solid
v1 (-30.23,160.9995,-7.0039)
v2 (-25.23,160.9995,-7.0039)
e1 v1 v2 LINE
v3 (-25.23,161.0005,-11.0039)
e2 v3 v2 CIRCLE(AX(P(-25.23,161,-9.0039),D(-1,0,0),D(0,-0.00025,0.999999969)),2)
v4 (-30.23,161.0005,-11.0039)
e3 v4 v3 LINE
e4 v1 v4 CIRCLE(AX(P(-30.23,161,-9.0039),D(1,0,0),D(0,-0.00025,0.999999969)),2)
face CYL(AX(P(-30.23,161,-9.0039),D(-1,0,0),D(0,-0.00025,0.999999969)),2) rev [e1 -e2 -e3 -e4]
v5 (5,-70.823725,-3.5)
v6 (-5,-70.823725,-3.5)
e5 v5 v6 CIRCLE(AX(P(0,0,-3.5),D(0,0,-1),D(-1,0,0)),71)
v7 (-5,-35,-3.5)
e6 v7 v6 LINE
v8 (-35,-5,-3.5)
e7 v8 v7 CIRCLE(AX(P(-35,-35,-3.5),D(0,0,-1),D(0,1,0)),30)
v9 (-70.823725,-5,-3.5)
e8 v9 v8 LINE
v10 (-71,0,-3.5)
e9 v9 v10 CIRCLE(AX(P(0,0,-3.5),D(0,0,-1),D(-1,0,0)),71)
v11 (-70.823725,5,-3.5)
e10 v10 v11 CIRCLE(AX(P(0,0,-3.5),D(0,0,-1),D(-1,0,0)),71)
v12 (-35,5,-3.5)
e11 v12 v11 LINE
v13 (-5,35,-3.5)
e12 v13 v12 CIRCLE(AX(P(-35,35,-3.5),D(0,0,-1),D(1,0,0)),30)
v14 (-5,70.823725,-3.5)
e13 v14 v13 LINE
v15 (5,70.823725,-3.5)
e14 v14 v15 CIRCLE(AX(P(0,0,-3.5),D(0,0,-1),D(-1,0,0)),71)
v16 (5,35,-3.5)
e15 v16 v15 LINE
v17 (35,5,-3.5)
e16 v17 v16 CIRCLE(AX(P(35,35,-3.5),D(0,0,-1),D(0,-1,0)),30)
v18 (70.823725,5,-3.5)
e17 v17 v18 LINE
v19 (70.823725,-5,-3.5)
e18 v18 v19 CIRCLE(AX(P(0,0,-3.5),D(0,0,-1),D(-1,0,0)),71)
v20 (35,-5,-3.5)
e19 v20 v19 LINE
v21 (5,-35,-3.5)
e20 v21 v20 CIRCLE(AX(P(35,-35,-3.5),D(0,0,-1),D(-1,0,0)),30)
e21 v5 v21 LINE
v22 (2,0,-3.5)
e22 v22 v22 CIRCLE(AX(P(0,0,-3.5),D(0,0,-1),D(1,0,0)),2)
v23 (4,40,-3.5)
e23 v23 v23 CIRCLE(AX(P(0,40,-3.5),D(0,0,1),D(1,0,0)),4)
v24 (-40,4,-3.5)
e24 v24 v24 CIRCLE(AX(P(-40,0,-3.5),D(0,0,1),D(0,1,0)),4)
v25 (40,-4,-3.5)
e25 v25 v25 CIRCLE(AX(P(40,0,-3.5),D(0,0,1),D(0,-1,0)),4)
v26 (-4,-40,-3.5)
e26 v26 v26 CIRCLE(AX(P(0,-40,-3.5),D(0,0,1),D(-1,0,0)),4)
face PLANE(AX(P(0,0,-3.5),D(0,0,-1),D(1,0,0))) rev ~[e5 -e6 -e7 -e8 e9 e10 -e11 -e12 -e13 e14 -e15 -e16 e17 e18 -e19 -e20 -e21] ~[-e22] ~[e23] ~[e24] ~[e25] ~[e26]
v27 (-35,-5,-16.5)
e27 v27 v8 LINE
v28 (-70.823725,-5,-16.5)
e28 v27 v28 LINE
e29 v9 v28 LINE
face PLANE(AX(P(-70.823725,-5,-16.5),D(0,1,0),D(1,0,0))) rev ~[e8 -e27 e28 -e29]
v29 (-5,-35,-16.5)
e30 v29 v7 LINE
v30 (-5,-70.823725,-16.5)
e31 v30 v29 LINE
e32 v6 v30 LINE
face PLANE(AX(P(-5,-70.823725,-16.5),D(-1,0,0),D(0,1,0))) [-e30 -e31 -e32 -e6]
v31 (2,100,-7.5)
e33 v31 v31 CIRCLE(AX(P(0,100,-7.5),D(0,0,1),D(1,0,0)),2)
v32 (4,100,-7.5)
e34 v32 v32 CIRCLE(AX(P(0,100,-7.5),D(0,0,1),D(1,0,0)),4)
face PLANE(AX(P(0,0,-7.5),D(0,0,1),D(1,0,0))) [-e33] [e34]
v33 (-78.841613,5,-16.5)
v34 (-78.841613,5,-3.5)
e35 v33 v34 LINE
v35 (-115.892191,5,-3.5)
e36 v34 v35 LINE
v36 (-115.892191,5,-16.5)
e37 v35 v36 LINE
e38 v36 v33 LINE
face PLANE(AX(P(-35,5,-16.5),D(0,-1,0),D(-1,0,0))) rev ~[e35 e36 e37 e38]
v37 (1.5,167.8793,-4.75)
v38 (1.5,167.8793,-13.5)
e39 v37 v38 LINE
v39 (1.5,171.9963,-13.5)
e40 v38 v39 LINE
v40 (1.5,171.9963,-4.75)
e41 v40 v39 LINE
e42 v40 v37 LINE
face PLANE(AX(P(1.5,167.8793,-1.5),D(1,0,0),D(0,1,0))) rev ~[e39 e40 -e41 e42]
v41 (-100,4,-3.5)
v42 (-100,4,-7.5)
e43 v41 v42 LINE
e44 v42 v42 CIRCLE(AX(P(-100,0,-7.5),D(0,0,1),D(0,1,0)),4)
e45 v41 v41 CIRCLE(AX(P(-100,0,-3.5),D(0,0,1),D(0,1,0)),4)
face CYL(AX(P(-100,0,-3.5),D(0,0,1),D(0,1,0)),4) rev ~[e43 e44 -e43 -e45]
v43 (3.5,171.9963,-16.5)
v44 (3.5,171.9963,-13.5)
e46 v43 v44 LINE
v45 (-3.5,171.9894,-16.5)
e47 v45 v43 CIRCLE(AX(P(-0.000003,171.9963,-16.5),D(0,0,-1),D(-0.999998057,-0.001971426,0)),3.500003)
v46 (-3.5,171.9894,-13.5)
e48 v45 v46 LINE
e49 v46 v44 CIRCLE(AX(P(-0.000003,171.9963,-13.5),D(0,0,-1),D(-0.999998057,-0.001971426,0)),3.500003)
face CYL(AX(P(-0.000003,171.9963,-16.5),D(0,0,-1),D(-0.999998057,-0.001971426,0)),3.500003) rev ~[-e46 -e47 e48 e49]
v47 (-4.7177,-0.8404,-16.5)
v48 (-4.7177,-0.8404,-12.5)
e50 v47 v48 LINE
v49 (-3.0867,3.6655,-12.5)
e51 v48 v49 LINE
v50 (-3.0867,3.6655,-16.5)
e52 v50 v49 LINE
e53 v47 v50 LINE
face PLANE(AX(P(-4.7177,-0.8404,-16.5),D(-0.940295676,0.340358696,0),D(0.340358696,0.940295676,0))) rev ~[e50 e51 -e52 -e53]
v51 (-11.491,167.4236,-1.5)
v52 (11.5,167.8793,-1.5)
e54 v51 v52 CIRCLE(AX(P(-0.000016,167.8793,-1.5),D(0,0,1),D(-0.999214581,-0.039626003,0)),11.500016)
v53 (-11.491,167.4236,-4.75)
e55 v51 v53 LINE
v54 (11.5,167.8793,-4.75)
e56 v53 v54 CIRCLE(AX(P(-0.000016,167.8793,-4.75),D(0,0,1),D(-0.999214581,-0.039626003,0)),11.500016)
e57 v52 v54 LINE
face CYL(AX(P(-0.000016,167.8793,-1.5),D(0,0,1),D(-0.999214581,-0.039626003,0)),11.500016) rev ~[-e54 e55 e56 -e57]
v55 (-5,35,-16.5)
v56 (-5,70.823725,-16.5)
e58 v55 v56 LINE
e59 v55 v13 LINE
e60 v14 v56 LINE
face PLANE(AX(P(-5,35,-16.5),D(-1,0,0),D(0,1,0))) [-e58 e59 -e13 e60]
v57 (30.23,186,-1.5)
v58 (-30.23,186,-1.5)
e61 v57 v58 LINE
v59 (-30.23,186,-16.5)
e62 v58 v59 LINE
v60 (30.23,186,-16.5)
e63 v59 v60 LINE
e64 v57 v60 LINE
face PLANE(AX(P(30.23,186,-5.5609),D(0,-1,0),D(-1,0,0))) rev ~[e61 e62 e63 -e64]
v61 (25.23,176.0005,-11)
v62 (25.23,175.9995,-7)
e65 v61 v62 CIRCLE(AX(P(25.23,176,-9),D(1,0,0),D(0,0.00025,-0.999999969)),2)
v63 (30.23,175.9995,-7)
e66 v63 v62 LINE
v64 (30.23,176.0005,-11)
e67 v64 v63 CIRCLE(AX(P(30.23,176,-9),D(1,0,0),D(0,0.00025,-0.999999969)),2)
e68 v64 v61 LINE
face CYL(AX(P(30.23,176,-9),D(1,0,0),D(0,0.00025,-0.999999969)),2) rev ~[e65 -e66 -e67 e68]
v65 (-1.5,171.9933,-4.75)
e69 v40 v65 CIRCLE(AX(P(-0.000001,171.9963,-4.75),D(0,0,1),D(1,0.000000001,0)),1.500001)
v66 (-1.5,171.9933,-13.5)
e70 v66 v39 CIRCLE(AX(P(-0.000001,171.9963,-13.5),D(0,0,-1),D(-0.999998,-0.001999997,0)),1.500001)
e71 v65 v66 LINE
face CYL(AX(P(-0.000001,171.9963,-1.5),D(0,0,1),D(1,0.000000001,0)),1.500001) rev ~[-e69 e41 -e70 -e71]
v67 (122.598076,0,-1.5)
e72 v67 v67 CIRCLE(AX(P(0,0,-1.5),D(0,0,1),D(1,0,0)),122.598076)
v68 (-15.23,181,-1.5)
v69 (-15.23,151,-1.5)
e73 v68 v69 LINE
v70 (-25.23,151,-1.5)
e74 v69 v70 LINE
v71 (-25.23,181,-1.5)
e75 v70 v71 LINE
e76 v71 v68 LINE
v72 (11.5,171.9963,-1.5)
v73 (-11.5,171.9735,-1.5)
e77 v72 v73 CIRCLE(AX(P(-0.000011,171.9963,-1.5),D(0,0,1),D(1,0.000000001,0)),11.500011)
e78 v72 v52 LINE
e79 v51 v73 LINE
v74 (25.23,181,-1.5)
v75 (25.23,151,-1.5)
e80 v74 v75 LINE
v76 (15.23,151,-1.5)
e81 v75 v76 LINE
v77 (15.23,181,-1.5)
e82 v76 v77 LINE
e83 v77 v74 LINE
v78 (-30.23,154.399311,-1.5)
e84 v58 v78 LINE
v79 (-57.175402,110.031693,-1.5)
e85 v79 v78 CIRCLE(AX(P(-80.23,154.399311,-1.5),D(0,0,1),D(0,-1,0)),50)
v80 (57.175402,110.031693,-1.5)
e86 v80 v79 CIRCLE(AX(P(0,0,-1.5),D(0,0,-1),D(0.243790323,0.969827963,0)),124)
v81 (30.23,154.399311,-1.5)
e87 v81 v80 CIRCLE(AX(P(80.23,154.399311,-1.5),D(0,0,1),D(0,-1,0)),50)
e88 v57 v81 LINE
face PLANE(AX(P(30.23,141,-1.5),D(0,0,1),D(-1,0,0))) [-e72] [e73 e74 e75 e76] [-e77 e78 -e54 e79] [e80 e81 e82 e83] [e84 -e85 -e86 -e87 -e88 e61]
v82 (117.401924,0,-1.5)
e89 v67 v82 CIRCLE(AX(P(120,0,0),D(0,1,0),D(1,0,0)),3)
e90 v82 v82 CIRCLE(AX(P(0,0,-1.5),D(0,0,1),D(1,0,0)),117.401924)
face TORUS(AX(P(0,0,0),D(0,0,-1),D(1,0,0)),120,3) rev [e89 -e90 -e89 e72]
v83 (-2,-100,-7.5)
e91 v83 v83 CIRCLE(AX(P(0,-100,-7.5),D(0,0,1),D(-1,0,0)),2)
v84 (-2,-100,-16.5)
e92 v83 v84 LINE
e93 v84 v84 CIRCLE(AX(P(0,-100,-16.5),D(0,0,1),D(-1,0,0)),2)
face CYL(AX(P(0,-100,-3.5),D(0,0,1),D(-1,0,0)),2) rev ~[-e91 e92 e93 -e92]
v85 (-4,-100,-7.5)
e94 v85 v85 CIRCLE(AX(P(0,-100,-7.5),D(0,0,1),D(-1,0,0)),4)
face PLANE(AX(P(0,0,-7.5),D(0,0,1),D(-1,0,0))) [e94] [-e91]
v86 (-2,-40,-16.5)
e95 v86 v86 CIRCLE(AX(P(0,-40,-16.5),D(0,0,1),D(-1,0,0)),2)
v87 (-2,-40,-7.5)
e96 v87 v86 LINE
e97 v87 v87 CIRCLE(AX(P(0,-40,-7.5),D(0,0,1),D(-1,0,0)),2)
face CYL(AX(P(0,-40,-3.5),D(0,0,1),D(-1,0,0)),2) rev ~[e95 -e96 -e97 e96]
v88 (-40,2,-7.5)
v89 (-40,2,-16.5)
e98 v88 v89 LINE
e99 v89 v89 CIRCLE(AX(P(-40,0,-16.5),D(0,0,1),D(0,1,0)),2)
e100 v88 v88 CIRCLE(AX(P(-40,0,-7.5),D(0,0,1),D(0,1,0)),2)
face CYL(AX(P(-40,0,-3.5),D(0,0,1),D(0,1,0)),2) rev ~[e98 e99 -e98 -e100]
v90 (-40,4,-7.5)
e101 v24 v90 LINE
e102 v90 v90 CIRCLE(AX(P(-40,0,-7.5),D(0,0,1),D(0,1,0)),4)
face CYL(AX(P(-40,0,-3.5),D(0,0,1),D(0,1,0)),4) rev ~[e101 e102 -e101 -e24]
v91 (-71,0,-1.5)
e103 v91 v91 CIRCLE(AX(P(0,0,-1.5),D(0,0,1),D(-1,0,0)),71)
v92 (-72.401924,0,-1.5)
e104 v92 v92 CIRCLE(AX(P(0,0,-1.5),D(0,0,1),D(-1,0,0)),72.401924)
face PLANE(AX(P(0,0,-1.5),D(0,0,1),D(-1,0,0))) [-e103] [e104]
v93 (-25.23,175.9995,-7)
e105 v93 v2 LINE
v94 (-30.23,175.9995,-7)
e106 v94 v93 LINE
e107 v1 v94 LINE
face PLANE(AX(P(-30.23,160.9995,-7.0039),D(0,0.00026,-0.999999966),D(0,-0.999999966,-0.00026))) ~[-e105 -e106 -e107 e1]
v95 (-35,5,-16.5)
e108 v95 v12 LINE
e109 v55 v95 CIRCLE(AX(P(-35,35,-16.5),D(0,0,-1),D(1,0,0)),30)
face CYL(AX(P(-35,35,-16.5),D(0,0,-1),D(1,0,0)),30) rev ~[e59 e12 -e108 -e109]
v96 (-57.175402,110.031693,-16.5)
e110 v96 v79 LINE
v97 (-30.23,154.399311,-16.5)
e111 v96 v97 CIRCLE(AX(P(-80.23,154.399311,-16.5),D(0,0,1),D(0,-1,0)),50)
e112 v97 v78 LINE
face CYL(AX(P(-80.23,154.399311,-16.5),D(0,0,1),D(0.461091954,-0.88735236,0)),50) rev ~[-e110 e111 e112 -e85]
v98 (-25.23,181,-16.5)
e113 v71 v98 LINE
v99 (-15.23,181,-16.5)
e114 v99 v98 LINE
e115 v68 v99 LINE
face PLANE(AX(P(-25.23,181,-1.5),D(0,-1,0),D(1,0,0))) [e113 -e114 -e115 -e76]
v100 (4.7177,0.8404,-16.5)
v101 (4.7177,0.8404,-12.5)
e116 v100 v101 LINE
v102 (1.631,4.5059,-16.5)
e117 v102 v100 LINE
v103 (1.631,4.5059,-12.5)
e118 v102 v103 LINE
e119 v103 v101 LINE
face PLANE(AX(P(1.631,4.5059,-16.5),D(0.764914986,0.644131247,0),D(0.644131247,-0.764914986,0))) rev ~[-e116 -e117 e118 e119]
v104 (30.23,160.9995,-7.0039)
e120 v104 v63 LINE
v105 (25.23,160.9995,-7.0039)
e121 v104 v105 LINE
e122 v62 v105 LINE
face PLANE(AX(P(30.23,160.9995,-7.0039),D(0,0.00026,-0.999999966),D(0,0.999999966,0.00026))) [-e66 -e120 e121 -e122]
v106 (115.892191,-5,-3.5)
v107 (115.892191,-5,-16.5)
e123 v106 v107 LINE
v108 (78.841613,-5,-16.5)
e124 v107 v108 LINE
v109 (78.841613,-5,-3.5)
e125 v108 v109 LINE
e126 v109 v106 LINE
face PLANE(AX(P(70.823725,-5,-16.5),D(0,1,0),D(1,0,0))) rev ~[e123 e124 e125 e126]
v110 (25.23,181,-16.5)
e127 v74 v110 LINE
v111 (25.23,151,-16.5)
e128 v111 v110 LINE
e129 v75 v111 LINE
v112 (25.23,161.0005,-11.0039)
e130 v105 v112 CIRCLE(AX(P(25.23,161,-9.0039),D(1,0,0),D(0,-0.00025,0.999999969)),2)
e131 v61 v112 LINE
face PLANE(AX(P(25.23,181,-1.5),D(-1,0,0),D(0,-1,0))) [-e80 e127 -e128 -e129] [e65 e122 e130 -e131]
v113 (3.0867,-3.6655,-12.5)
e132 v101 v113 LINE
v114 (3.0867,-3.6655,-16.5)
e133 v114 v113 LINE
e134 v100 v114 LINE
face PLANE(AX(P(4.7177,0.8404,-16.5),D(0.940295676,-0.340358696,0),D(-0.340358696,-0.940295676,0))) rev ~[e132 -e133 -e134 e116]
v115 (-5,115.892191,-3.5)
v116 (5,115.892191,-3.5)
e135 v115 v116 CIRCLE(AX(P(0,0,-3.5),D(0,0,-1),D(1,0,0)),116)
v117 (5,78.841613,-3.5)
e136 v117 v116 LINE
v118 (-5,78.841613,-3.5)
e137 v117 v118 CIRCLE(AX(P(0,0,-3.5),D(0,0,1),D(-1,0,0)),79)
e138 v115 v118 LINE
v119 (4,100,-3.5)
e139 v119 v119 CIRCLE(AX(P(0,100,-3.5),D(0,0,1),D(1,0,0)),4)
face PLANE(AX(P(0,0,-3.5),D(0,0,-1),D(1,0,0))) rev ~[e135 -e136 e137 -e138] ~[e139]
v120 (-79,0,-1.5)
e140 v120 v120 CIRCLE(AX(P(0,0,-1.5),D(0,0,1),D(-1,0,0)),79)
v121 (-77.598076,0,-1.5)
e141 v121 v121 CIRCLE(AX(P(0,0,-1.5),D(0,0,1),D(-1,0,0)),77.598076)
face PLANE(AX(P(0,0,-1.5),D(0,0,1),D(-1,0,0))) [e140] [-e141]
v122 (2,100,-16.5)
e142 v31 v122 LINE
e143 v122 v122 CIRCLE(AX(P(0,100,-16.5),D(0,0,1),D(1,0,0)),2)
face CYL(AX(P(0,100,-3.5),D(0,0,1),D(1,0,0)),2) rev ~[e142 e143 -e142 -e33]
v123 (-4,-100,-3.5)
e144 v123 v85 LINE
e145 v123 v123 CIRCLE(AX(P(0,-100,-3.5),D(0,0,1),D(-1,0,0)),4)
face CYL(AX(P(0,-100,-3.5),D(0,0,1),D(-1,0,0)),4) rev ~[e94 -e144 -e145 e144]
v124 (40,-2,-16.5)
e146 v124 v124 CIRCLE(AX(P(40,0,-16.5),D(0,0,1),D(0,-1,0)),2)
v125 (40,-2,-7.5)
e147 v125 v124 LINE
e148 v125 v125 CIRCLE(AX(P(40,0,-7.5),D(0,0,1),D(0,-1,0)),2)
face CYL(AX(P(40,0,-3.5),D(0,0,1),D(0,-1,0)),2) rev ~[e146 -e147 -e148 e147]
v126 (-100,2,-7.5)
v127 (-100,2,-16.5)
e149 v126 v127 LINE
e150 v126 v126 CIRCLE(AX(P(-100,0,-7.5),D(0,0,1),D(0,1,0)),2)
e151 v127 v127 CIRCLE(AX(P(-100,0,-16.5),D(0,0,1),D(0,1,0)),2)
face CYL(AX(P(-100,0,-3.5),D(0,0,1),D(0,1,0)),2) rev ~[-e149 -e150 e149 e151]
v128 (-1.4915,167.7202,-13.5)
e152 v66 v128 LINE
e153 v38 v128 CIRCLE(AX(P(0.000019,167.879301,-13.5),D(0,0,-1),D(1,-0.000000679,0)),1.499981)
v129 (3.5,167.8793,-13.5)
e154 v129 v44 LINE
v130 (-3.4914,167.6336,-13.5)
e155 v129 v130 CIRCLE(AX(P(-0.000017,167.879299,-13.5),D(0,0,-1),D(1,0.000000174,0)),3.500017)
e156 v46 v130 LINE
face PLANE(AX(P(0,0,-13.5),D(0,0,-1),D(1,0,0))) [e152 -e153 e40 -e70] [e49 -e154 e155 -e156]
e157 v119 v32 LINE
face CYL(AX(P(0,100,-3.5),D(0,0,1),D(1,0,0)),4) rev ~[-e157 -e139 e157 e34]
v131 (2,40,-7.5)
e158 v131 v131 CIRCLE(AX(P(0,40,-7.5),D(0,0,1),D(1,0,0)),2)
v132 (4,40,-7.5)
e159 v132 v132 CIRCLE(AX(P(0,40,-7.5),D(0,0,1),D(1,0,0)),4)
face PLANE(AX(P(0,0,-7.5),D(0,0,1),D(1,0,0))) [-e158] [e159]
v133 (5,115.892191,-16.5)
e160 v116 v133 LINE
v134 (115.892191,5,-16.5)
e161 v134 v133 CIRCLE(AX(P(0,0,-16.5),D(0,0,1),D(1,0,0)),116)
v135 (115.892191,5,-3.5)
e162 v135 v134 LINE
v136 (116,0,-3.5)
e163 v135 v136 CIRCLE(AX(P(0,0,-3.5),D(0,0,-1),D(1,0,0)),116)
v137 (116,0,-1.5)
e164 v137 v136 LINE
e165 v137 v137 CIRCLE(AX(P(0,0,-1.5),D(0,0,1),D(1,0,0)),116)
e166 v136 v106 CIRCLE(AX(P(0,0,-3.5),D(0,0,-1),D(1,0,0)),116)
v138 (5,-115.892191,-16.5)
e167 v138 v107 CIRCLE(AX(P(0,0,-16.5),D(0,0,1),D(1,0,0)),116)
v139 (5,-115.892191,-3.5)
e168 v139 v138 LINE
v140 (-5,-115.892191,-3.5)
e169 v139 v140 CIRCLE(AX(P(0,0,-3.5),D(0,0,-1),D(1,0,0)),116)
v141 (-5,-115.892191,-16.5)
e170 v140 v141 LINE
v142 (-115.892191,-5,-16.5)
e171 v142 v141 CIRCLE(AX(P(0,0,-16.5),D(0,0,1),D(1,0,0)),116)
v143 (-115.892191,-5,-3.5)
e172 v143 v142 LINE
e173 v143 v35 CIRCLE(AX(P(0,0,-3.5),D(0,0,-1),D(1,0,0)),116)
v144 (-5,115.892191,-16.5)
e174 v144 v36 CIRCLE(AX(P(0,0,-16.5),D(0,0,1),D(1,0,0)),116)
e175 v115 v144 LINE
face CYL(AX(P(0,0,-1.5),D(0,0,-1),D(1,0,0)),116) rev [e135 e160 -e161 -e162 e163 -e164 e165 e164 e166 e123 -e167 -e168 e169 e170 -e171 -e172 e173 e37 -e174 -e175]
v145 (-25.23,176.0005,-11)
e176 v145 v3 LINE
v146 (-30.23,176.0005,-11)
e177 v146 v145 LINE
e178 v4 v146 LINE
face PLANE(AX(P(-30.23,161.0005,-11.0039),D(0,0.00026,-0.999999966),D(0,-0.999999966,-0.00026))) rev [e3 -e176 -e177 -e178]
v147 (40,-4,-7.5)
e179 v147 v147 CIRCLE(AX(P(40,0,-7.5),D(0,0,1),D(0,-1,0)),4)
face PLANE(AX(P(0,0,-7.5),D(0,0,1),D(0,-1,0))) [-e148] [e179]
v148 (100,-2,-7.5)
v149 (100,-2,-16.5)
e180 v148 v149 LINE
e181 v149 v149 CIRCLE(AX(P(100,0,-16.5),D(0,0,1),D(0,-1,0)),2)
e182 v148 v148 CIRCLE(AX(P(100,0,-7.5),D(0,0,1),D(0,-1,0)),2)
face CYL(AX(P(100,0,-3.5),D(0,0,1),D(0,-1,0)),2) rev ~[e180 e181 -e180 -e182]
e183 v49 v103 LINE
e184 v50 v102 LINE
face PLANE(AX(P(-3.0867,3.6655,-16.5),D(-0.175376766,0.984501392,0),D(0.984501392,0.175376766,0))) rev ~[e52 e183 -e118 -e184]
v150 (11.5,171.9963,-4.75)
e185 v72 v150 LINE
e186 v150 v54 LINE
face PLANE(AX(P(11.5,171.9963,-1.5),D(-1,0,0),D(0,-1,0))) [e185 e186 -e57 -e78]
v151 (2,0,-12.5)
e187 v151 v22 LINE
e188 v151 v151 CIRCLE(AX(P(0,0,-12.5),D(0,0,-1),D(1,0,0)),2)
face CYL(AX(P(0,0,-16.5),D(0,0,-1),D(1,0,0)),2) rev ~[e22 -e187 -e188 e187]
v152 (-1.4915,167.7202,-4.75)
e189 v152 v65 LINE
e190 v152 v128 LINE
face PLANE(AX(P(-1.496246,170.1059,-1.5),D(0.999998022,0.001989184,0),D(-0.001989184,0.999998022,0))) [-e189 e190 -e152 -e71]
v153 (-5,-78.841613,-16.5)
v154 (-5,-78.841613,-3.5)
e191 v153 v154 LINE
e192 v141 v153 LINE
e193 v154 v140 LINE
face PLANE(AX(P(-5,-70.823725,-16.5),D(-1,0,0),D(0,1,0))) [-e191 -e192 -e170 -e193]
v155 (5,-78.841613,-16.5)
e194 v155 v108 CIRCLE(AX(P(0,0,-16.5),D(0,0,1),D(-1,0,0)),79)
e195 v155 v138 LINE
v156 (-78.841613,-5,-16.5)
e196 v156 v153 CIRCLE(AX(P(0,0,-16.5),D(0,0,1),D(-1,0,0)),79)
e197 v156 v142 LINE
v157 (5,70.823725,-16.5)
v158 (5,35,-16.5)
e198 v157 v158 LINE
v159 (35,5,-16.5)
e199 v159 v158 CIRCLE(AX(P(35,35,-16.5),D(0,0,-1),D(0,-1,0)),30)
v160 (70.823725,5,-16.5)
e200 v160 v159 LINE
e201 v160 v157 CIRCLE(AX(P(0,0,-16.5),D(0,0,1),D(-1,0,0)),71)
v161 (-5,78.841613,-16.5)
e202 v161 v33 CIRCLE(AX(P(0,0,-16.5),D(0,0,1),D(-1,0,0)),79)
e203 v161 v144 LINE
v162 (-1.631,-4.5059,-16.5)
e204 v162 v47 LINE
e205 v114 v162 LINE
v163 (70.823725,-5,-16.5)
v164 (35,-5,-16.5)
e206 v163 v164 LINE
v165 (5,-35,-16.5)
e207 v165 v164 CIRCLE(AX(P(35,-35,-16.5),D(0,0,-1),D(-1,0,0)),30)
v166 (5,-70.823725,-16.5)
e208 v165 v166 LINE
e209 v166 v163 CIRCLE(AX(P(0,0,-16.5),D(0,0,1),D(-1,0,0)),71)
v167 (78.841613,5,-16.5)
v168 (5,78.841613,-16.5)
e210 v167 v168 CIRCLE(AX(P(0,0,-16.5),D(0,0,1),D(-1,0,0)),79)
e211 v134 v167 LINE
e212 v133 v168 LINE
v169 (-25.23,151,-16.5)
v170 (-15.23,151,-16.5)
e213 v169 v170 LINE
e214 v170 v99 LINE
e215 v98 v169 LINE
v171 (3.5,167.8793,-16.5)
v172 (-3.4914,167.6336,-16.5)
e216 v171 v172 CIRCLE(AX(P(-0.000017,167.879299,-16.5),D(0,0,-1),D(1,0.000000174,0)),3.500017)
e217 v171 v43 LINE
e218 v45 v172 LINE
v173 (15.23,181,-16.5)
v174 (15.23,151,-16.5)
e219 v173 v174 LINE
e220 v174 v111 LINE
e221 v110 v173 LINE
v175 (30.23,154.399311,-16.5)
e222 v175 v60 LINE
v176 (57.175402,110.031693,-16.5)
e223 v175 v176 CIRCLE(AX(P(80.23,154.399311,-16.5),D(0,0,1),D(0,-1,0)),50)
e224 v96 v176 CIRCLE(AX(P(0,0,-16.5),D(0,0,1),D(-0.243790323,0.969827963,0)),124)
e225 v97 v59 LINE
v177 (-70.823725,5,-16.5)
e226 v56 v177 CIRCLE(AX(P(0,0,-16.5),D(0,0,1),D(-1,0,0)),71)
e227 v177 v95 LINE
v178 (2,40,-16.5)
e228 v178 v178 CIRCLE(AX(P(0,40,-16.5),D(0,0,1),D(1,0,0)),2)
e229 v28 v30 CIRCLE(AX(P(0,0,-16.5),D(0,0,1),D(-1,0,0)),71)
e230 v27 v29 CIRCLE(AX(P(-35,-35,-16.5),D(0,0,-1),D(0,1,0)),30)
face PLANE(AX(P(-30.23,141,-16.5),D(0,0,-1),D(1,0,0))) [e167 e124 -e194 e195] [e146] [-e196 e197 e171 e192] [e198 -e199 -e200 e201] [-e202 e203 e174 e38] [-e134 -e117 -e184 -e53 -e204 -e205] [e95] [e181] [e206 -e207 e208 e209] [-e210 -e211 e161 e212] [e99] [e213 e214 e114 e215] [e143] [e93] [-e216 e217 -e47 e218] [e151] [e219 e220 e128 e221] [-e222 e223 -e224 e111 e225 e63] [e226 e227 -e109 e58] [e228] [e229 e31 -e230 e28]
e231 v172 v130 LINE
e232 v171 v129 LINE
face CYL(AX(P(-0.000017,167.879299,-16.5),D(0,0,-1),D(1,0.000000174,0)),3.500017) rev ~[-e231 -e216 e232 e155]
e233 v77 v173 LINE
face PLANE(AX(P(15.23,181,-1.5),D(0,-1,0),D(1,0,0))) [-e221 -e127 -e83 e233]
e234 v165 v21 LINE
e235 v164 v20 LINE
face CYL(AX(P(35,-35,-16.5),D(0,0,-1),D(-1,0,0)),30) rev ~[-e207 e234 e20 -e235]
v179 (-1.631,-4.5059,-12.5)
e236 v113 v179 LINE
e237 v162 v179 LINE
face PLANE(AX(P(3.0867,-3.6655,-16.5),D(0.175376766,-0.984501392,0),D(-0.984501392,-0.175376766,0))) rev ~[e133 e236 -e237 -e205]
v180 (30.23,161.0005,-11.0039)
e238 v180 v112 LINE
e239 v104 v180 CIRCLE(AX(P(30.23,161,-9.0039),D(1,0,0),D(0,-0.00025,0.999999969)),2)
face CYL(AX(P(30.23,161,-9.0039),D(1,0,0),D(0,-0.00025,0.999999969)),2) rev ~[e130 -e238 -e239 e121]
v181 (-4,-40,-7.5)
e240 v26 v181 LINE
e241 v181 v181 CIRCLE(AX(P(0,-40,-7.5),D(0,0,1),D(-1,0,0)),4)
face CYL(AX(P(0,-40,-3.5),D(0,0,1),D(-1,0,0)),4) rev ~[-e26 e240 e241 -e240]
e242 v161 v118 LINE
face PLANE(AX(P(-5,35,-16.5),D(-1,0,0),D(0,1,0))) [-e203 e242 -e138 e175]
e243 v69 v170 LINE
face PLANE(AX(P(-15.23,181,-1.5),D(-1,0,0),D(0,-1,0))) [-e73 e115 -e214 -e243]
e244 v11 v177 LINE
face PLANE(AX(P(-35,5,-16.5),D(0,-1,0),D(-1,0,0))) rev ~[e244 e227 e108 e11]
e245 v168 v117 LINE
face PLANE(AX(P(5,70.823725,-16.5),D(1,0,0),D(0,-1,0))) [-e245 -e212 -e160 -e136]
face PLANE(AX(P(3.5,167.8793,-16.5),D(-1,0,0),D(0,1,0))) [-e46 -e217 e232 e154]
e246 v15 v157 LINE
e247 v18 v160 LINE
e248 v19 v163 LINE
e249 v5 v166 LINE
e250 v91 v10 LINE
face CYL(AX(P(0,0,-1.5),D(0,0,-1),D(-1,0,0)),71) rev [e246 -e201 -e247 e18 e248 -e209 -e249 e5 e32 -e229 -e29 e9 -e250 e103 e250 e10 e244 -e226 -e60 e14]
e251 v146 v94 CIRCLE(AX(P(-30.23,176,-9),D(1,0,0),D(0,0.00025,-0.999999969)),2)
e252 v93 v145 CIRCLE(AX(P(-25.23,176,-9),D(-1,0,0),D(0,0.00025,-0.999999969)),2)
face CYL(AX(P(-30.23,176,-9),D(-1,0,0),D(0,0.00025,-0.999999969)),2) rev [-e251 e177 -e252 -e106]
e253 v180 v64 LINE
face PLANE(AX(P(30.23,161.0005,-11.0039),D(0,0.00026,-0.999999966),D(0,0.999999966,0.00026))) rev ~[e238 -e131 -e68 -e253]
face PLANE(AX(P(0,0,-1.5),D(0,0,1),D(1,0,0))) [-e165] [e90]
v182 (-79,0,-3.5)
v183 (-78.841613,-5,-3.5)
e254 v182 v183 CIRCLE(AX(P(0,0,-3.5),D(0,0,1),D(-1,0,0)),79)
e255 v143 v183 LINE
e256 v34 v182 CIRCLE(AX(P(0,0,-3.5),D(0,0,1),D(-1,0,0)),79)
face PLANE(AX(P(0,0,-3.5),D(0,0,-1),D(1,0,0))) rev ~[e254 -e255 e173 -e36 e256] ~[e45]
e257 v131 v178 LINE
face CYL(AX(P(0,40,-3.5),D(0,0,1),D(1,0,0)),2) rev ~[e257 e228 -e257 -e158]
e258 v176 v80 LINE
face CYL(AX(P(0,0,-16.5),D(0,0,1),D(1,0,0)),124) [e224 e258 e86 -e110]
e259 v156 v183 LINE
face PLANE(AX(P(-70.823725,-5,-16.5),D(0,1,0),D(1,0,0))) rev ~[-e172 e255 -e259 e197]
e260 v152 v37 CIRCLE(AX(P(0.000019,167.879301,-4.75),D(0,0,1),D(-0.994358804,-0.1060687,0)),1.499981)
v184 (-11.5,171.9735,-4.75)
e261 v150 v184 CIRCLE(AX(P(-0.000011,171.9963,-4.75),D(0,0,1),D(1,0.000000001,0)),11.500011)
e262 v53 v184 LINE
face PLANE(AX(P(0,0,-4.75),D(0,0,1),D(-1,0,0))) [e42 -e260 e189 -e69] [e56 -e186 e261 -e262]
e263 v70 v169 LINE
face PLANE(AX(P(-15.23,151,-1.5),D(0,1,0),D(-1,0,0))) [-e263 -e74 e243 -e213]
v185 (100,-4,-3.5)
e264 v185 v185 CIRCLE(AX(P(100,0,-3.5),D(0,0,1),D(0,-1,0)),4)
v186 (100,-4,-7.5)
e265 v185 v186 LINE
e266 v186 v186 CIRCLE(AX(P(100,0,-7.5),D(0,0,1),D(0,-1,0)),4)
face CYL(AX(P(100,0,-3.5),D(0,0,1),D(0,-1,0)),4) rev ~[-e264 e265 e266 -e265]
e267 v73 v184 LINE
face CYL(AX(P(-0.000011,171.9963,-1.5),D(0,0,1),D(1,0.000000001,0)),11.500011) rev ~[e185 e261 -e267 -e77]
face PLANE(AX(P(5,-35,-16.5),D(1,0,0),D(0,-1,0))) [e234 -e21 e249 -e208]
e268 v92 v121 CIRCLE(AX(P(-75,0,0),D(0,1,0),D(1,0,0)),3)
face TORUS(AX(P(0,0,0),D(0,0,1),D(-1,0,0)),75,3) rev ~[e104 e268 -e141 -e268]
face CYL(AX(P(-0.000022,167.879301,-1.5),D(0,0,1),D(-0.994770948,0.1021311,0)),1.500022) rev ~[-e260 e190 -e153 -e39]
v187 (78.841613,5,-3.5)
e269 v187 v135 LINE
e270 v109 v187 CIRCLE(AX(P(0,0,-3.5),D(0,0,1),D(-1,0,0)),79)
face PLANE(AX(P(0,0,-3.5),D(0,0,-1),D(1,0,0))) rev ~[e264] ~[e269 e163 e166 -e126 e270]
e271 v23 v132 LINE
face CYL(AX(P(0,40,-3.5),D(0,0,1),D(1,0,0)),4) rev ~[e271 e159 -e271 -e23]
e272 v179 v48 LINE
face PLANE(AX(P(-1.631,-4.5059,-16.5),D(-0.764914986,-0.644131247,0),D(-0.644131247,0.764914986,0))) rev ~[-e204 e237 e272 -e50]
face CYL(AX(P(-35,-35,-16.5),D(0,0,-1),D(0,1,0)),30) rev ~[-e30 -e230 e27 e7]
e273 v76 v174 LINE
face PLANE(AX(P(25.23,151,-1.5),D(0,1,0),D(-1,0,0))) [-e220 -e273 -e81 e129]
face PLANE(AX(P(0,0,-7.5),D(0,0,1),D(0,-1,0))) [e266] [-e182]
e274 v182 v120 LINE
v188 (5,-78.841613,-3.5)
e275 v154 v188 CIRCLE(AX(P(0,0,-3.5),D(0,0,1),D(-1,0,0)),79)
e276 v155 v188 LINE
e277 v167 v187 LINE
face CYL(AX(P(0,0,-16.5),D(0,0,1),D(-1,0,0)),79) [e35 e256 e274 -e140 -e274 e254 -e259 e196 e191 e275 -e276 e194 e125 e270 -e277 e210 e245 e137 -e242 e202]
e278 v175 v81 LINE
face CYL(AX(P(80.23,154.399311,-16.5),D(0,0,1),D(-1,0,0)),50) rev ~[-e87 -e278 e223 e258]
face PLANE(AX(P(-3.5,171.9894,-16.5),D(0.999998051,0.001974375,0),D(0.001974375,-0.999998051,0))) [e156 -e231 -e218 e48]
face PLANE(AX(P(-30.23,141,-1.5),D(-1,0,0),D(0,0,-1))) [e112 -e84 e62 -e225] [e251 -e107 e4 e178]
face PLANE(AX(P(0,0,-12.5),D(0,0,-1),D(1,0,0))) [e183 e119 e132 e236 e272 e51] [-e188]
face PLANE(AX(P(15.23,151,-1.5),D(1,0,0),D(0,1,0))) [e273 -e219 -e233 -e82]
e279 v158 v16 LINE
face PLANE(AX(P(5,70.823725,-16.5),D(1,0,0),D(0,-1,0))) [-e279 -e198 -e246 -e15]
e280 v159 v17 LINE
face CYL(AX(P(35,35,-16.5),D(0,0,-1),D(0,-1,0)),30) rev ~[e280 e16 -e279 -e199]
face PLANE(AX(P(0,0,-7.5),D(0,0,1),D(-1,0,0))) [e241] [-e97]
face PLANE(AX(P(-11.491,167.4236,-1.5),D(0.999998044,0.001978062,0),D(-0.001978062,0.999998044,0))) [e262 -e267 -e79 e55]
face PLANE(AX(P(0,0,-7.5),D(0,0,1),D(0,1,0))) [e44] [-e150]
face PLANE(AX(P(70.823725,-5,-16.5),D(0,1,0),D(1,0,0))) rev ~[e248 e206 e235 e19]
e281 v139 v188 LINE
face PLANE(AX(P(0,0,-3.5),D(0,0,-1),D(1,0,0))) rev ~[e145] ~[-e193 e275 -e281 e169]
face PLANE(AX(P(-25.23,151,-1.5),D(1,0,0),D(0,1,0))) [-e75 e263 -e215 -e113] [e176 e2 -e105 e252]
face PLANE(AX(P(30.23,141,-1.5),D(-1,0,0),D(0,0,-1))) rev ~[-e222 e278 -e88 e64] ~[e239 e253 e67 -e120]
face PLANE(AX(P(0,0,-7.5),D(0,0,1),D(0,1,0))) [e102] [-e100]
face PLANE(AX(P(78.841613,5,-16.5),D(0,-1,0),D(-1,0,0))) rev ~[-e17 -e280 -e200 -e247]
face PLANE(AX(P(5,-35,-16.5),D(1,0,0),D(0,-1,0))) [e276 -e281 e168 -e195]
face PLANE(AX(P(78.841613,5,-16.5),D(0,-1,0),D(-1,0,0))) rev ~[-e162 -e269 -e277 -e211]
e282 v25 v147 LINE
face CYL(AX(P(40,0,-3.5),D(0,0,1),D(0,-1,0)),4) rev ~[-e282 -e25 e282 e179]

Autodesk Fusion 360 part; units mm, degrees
sketch "Sketch2" plane through (0, 0, 0) normal (0, 1, 0) x (1, 0, 0)
  line L0 (0, 0) -> (120, 0) construction
  line L1 (0, 0) -> (-75, 0) construction
  circle A0 centre (-75, 0) radius 3
  circle A1 centre (120, 0) radius 3
  line L2 (-83.0515, 1.5) -> (128.8515, 1.5) construction
  line L3 (-71, 16.5) -> (-79, 16.5)
  line L4 (-79, 16.5) -> (-79, 1.5)
  line L5 (-79, 1.5) -> (-71, 1.5)
  line L6 (-71, 1.5) -> (-71, 16.5)
  line L7 (-71, 16.5) -> (-79, 1.5) construction
  line L8 (-79, 16.5) -> (-71, 1.5) construction
  line L9 (124, 1.5) -> (116, 1.5)
  line L10 (116, 1.5) -> (116, 16.5)
  line L11 (116, 16.5) -> (124, 16.5)
  line L12 (124, 16.5) -> (124, 1.5)
  line L13 (124, 1.5) -> (116, 16.5) construction
  line L14 (116, 1.5) -> (124, 16.5) construction
  point P0 (-75, 9)
  point P1 (120, 9)
  dimension "d3" = 120
  dimension "d4" = 75
  dimension "d5" = 6
  dimension "d6" = 6
  dimension "d7" = 1.5
  dimension "d8" = 8
  dimension "d9" = 15
  dimension "d10" = 9
  dimension "d11" = 8
  dimension "d12" = 15
  dimension "d13" = 9
revolve "Revolve1" add sketch "Sketch2" angle 360 about axis through (0, 0, 1.75) along (0, 0, 1) contours A0 L3 L4 L5 L6 | A1 L9 L10 L11 L12 makes body 1 at (123.3838, -12.3464, -11.5) makes body 2 at (-78.6074, 7.8659, -11.5)
sketch "Sketch3" plane through (0, 0, -16.5) normal (0, 0, -1) x (1, 0, 0)
  circle A0 centre (0, 0) radius 79
  circle A1 centre (0, 0) radius 71
  line L0 (5, 120) -> (-5, 120)
  line L1 (-5, -120) -> (5, -120)
  line L2 (5, 120) -> (-5, -120) construction
  line L3 (-5, 120) -> (5, -120) construction
  line L4 (-120, -5) -> (-120, 5)
  line L5 (120, 5) -> (120, -5)
  line L6 (120, -5) -> (-120, 5) construction
  line L7 (-120, -5) -> (120, 5) construction
  line L8 (-5, 120) -> (-5, 35)
  line L9 (-5, 0.2083) -> (-5, -0.2083)
  line L10 (-5, -35) -> (-5, -120)
  line L11 (5, -120) -> (5, -35)
  line L12 (120, -5) -> (35, -5)
  line L13 (0.2083, -5) -> (-0.2083, -5)
  line L14 (-35, -5) -> (-120, -5)
  line L15 (-120, 5) -> (-35, 5)
  line L16 (35, 5) -> (120, 5)
  line L17 (5, -0.2083) -> (5, 0.2083)
  line L18 (5, 35) -> (5, 120)
  arc A2 (-35, 5) -> (-5, 35) centre (-35, 35) ccw
  arc A3 (5, 35) -> (35, 5) centre (35, 35) ccw
  arc A4 (35, -5) -> (5, -35) centre (35, -35) ccw
  arc A5 (-5, -35) -> (-35, -5) centre (-35, -35) ccw
  circle A6 centre (0, 0) radius 2
  dimension "d15" = 10
  dimension "d16" = 240
  dimension "d17" = 240
  dimension "d18" = 10
  dimension "d19" = 30
  dimension "d21" = 4
extrude "Extrude1" add sketch "Sketch3" against normal blind 13 contours A0 A1 L12 L16 | A0 L5 L12 L16 | A0 A1 L8 L18 | A0 L0 L8 L18 | A1 L8 L10 L11 L12 L14 L15 L16 L18 A2 A3 A4 A5 | A0 L1 L10 L11 | A0 A1 L10 L11 | A0 A1 L14 L15 | A0 L4 L14 L15 bodies 1 2
ref_plane "WorkPlane1" through (0, 118, 0) normal (0, 1, 0) x (0, 0, 1)
sketch "Sketch4" plane through (0, 118, 0) normal (0, 1, 0) x (1, 0, 0)
  line L0 (-30.23, 16.5) -> (30.23, 16.5)
  line L1 (30.23, 16.5) -> (30.23, 5.5609)
  line L2 (30.23, 5.5609) -> (-30.23, 5.5609)
  line L3 (-30.23, 5.5609) -> (-30.23, 16.5)
  line L4 (-30.23, 16.5) -> (30.23, 5.5609) construction
  line L5 (30.23, 16.5) -> (-30.23, 5.5609) construction
  circle A0 centre (25, 11.0304) radius 1.5
  circle A1 centre (-25, 11.0304) radius 1.5
  point P0 (0, 11.0304)
  dimension "d25" = 3
  dimension "d26" = 25
  dimension "d27" = 3
  dimension "d28" = 25
extrude "Extrude2" add sketch "Sketch4" along normal blind 23 contours L0 L1 L2 L3 | A0 | A1 bodies 1
extrude "Extrude4" add 1 faces at (0, 135.3333, -5.5609) along direction (0, 0, 1) up to surface (4.0609 mm away) on bodies 1 bodies 1
extrude "Extrude5" add 1 faces at (10.0767, 141, -11.5) along direction (0, 1, 0) blind 45 on bodies 1 bodies 1
sketch "Sketch5" plane through (0, 0, -1.5) normal (0, 0, 1) x (-1, 0, 0)
  arc A0 (30.23, -120.2587) -> (-30.23, -120.2587) centre (0, 0) ccw
  line L0 (-30.23, -120.2587) -> (-30.23, -186)
  line L1 (-30.23, -186) -> (30.23, -186)
  line L2 (30.23, -186) -> (30.23, -120.2587)
  circle A1 centre (0, 0) radius 122.5981
  line L3 (1.4915, -167.7202) -> (1.5, -171.9933)
  line L4 (-1.5, -167.8793) -> (-1.5, -171.9963)
  arc A2 (1.4963, -170.1059) -> (1.4958, -169.8882) centre (0, -170) ccw
  arc A3 (1.4922, -168.0325) -> (-1.5, -167.8793) centre (0, -167.8793) ccw
  arc A4 (-1.5, -171.9963) -> (1.5, -171.9933) centre (0, -171.9963) ccw
  dimension "d37" = 60.4599
  dimension "d38" = 3
  dimension "d39" = 3
  dimension "d40" = 170
  dimension "d41" = 3
extrude "Extrude6" cut sketch "Sketch5" against normal blind 21 contours L3 L4 A3 A4 bodies 1
sketch "Sketch6" plane through (0, 0, -1.5) normal (0, 0, 1) x (-1, 0, 0)
  line L0 (-1.5, -171.9963) -> (-1.5, -167.8793)
  arc A0 (1.4915, -167.7202) -> (-1.5, -167.8793) centre (0, -167.8793) ccw
  line L1 (1.4915, -167.7202) -> (1.5, -171.9933)
  arc A1 (-1.5, -171.9963) -> (1.5, -171.9933) centre (0, -171.9963) ccw
  arc A2 (30.23, -120.2587) -> (-30.23, -120.2587) centre (0, 0) ccw
  line L2 (-30.23, -120.2587) -> (-30.23, -186)
  line L3 (-30.23, -186) -> (30.23, -186)
  line L4 (30.23, -186) -> (30.23, -120.2587)
  circle A3 centre (0, 0) radius 122.5981
  line L5 (-25.23, -151) -> (-15.23, -151)
  line L6 (-15.23, -151) -> (-15.23, -181)
  line L7 (-15.23, -181) -> (-25.23, -181)
  line L8 (-25.23, -181) -> (-25.23, -151)
  line L9 (15.23, -151) -> (25.23, -151)
  line L10 (25.23, -151) -> (25.23, -181)
  line L11 (25.23, -181) -> (15.23, -181)
  line L12 (15.23, -181) -> (15.23, -151)
  dimension "d44" = 10
  dimension "d45" = 30
  dimension "d46" = 5
  dimension "d47" = 5
  dimension "d48" = 10
  dimension "d49" = 30
  dimension "d50" = 5
  dimension "d51" = 5
extrude "Extrude7" cut sketch "Sketch6" against normal blind 17 contours L5 L6 L7 L8 | L9 L10 L11 L12 bodies 1
fillet "Fillet1" radius 50 2 edges at (30.23, 120.2587, -9) (-30.23, 120.2587, -9) on bodies 1
sketch "Sketch8" plane through (0, 0, -16.5) normal (0, 0, -1) x (1, 0, 0)
  line L0 (-25.23, -181) -> (-25.23, -151)
  line L1 (-25.23, -151) -> (-15.23, -151)
  line L2 (-15.23, -151) -> (-15.23, -181)
  line L3 (-15.23, -181) -> (-25.23, -181)
  line L4 (15.23, -181) -> (15.23, -151)
  line L5 (15.23, -151) -> (25.23, -151)
  line L6 (25.23, -151) -> (25.23, -181)
  line L7 (25.23, -181) -> (15.23, -181)
  line L8 (1.5, -167.8793) -> (1.5, -171.9963)
  arc A0 (-1.5, -171.9933) -> (1.5, -171.9963) centre (0, -171.9963) ccw
  line L9 (-1.5, -171.9933) -> (-1.4915, -167.7202)
  arc A1 (1.5, -167.8793) -> (-1.4915, -167.7202) centre (0, -167.8793) ccw
  line L10 (-30.23, -154.3993) -> (-30.23, -186)
  line L11 (-30.23, -186) -> (30.23, -186)
  line L12 (30.23, -186) -> (30.23, -154.3993)
  arc A2 (57.1754, -110.0317) -> (30.23, -154.3993) centre (80.23, -154.3993) ccw
  arc A3 (57.1754, -110.0317) -> (-57.1754, -110.0317) centre (0, 0) ccw
  arc A4 (-30.23, -154.3993) -> (-57.1754, -110.0317) centre (-80.23, -154.3993) ccw
  arc A5 (5, -115.8922) -> (115.8922, -5) centre (0, 0) ccw
  line L13 (5, -115.8922) -> (5, -78.8416)
  arc A6 (5, -78.8416) -> (78.8416, -5) centre (0, 0) ccw
  line L14 (78.8416, -5) -> (115.8922, -5)
  line L15 (115.8922, 5) -> (78.8416, 5)
  arc A7 (78.8416, 5) -> (5, 78.8416) centre (0, 0) ccw
  line L16 (5, 78.8416) -> (5, 115.8922)
  arc A8 (115.8922, 5) -> (5, 115.8922) centre (0, 0) ccw
  line L17 (-5, 115.8922) -> (-5, 78.8416)
  arc A9 (-5, 78.8416) -> (-78.8416, 5) centre (0, 0) ccw
  line L18 (-78.8416, 5) -> (-115.8922, 5)
  arc A10 (-5, 115.8922) -> (-115.8922, 5) centre (0, 0) ccw
  line L19 (-70.8237, -5) -> (-35, -5)
  arc A11 (-5, -35) -> (-35, -5) centre (-35, -35) ccw
  line L20 (-5, -35) -> (-5, -70.8237)
  arc A12 (-70.8237, -5) -> (-5, -70.8237) centre (0, 0) ccw
  circle A13 centre (0, 0) radius 2
  line L21 (-5, 70.8237) -> (-5, 35)
  arc A14 (-35, 5) -> (-5, 35) centre (-35, 35) ccw
  line L22 (-35, 5) -> (-70.8237, 5)
  arc A15 (-5, 70.8237) -> (-70.8237, 5) centre (0, 0) ccw
  line L23 (70.8237, 5) -> (35, 5)
  arc A16 (5, 35) -> (35, 5) centre (35, 35) ccw
  line L24 (5, 35) -> (5, 70.8237)
  arc A17 (70.8237, 5) -> (5, 70.8237) centre (0, 0) ccw
  arc A18 (5, -70.8237) -> (70.8237, -5) centre (0, 0) ccw
  line L25 (5, -70.8237) -> (5, -35)
  arc A19 (35, -5) -> (5, -35) centre (35, -35) ccw
  line L26 (35, -5) -> (70.8237, -5)
  line L27 (-115.8922, -5) -> (-78.8416, -5)
  arc A20 (-78.8416, -5) -> (-5, -78.8416) centre (0, 0) ccw
  line L28 (-5, -78.8416) -> (-5, -115.8922)
  arc A21 (-115.8922, -5) -> (-5, -115.8922) centre (0, 0) ccw
  line L29 (3.5, -167.8793) -> (3.5, -171.9963)
  arc A22 (-3.5, -171.9894) -> (3.5, -171.9963) centre (0, -171.9963) ccw
  line L30 (-3.5, -171.9894) -> (-3.4914, -167.6336)
  arc A23 (3.5, -167.8793) -> (-3.4914, -167.6336) centre (0, -167.8793) ccw
  dimension "d66" = 2
extrude "Extrude8" cut sketch "Sketch8" against normal blind 3 contours L29 A22 L30 A23 bodies 1
sketch "Sketch9" plane through (0, 0, -1.5) normal (0, 0, 1) x (-1, 0, 0)
  line L0 (25.23, -151) -> (25.23, -181)
  line L1 (25.23, -181) -> (15.23, -181)
  line L2 (15.23, -181) -> (15.23, -151)
  line L3 (15.23, -151) -> (25.23, -151)
  line L4 (-15.23, -151) -> (-15.23, -181)
  line L5 (-15.23, -181) -> (-25.23, -181)
  line L6 (-25.23, -181) -> (-25.23, -151)
  line L7 (-25.23, -151) -> (-15.23, -151)
  line L8 (-1.5, -171.9963) -> (-1.5, -167.8793)
  arc A0 (1.4915, -167.7202) -> (-1.5, -167.8793) centre (0, -167.8793) ccw
  line L9 (1.4915, -167.7202) -> (1.5, -171.9933)
  arc A1 (-1.5, -171.9963) -> (1.5, -171.9933) centre (0, -171.9963) ccw
  arc A2 (57.1754, -110.0317) -> (-57.1754, -110.0317) centre (0, 0) ccw
  arc A3 (-30.23, -154.3993) -> (-57.1754, -110.0317) centre (-80.23, -154.3993) ccw
  line L10 (-30.23, -154.3993) -> (-30.23, -186)
  line L11 (-30.23, -186) -> (30.23, -186)
  line L12 (30.23, -186) -> (30.23, -154.3993)
  arc A4 (57.1754, -110.0317) -> (30.23, -154.3993) centre (80.23, -154.3993) ccw
  circle A5 centre (0, 0) radius 122.5981
  arc A6 (11.491, -167.4236) -> (-11.5, -167.8793) centre (0, -167.8793) ccw
  line L13 (-11.5, -171.9963) -> (-11.5, -167.8793)
  arc A7 (-11.5, -171.9963) -> (11.5, -171.9735) centre (0, -171.9963) ccw
  line L14 (11.491, -167.4236) -> (11.5, -171.9735)
  dimension "d69" = 10
extrude "Extrude9" cut sketch "Sketch9" against normal blind 3.25 contours A6 L13 A7 L14 bodies 1
sketch "Sketch10" plane through (0, 0, -3.5) normal (0, 0, 1) x (-1, 0, 0)
  circle A0 centre (0, 0) radius 2
  arc A1 (-70.8237, 5) -> (-70.8237, -5) centre (0, 0) ccw
  line L0 (-70.8237, -5) -> (-35, -5)
  arc A2 (-5, -35) -> (-35, -5) centre (-35, -35) ccw
  line L1 (-5, -35) -> (-5, -70.8237)
  arc A3 (-5, -70.8237) -> (5, -70.8237) centre (0, 0) ccw
  line L2 (5, -70.8237) -> (5, -35)
  arc A4 (35, -5) -> (5, -35) centre (35, -35) ccw
  line L3 (35, -5) -> (70.8237, -5)
  arc A5 (70.8237, -5) -> (70.8237, 5) centre (0, 0) ccw
  line L4 (70.8237, 5) -> (35, 5)
  arc A6 (5, 35) -> (35, 5) centre (35, 35) ccw
  line L5 (5, 35) -> (5, 70.8237)
  arc A7 (5, 70.8237) -> (-5, 70.8237) centre (0, 0) ccw
  line L6 (-5, 70.8237) -> (-5, 35)
  arc A8 (-35, 5) -> (-5, 35) centre (-35, 35) ccw
  line L7 (-35, 5) -> (-70.8237, 5)
  circle A9 centre (0, 40) radius 2
  circle A10 centre (0, 100) radius 2
  circle A11 centre (0, 100) radius 4
  circle A12 centre (0, 40) radius 4
  dimension "d72" = 4
  dimension "d73" = 4
  dimension "d74" = 40
  dimension "d75" = 100
  dimension "d78" = 8
  dimension "d79" = 8
extrude "Extrude10" cut sketch "Sketch10" against normal blind 28 contours A9 | A10 bodies 1
extrude "Extrude11" cut sketch "Sketch10" against normal blind 4 contours A11 | A12 bodies 1
pattern_circular "C-Pattern1" count 4 over 360 about axis through (0, 0, 1.75) along (0, 0, 1) of "Extrude11", "Extrude10"
sketch "Sketch11" plane through (30.23, 0, 0) normal (1, 0, 0) x (0, 1, 0)
  line L0 (154.3993, -1.5) -> (154.3993, -16.5)
  line L1 (154.3993, -16.5) -> (186, -16.5)
  line L2 (186, -16.5) -> (186, -1.5)
  line L3 (186, -1.5) -> (154.3993, -1.5)
  line L4 (160.9995, -7.0039) -> (175.9995, -7)
  line L5 (161.0005, -11.0039) -> (176.0005, -11)
  arc A0 (160.9995, -7.0039) -> (161.0005, -11.0039) centre (161, -9.0039) ccw
  arc A1 (176.0005, -11) -> (175.9995, -7) centre (176, -9) ccw
  dimension "d84" = 4
  dimension "d85" = 4
  dimension "d86" = 10
  dimension "d87" = 15
extrude "Extrude12" cut sketch "Sketch11" against normal blind 7 contours L4 L5 A0 A1 bodies 1
mirror "Mirror1" about plane through (0, 0, 0) normal (1, 0, 0) of "Extrude12"
sketch "Sketch12" plane through (0, 0, -16.5) normal (0, 0, -1) x (1, 0, 0)
  circle A0 centre (-40, 0) radius 2
  circle A1 centre (-100, 0) radius 2
  circle A2 centre (0, -40) radius 2
  circle A3 centre (0, -100) radius 2
  circle A4 centre (40, 0) radius 2
  circle A5 centre (100, 0) radius 2
  circle A6 centre (0, 40) radius 2
  circle A7 centre (0, 100) radius 2
  line L0 (3.5, -167.8793) -> (3.5, -171.9963)
  arc A8 (-3.5, -171.9894) -> (3.5, -171.9963) centre (0, -171.9963) ccw
  line L1 (-3.5, -171.9894) -> (-3.4914, -167.6336)
  arc A9 (3.5, -167.8793) -> (-3.4914, -167.6336) centre (0, -167.8793) ccw
  line L2 (-25.23, -181) -> (-25.23, -151)
  line L3 (-25.23, -151) -> (-15.23, -151)
  line L4 (-15.23, -151) -> (-15.23, -181)
  line L5 (-15.23, -181) -> (-25.23, -181)
  line L6 (15.23, -181) -> (15.23, -151)
  line L7 (15.23, -151) -> (25.23, -151)
  line L8 (25.23, -151) -> (25.23, -181)
  line L9 (25.23, -181) -> (15.23, -181)
  line L10 (-30.23, -154.3993) -> (-30.23, -186)
  line L11 (-30.23, -186) -> (30.23, -186)
  line L12 (30.23, -186) -> (30.23, -154.3993)
  arc A10 (57.1754, -110.0317) -> (30.23, -154.3993) centre (80.23, -154.3993) ccw
  arc A11 (57.1754, -110.0317) -> (-57.1754, -110.0317) centre (0, 0) ccw
  arc A12 (-30.23, -154.3993) -> (-57.1754, -110.0317) centre (-80.23, -154.3993) ccw
  arc A13 (5, -115.8922) -> (115.8922, -5) centre (0, 0) ccw
  line L13 (5, -115.8922) -> (5, -78.8416)
  arc A14 (5, -78.8416) -> (78.8416, -5) centre (0, 0) ccw
  line L14 (78.8416, -5) -> (115.8922, -5)
  line L15 (115.8922, 5) -> (78.8416, 5)
  arc A15 (78.8416, 5) -> (5, 78.8416) centre (0, 0) ccw
  line L16 (5, 78.8416) -> (5, 115.8922)
  arc A16 (115.8922, 5) -> (5, 115.8922) centre (0, 0) ccw
  line L17 (-5, 115.8922) -> (-5, 78.8416)
  arc A17 (-5, 78.8416) -> (-78.8416, 5) centre (0, 0) ccw
  line L18 (-78.8416, 5) -> (-115.8922, 5)
  arc A18 (-5, 115.8922) -> (-115.8922, 5) centre (0, 0) ccw
  line L19 (-70.8237, -5) -> (-35, -5)
  arc A19 (-5, -35) -> (-35, -5) centre (-35, -35) ccw
  line L20 (-5, -35) -> (-5, -70.8237)
  arc A20 (-70.8237, -5) -> (-5, -70.8237) centre (0, 0) ccw
  circle A21 centre (0, 0) radius 2
  line L21 (-5, 70.8237) -> (-5, 35)
  arc A22 (-35, 5) -> (-5, 35) centre (-35, 35) ccw
  line L22 (-35, 5) -> (-70.8237, 5)
  arc A23 (-5, 70.8237) -> (-70.8237, 5) centre (0, 0) ccw
  line L23 (70.8237, 5) -> (35, 5)
  arc A24 (5, 35) -> (35, 5) centre (35, 35) ccw
  line L24 (5, 35) -> (5, 70.8237)
  arc A25 (70.8237, 5) -> (5, 70.8237) centre (0, 0) ccw
  arc A26 (5, -70.8237) -> (70.8237, -5) centre (0, 0) ccw
  line L25 (5, -70.8237) -> (5, -35)
  arc A27 (35, -5) -> (5, -35) centre (35, -35) ccw
  line L26 (35, -5) -> (70.8237, -5)
  line L27 (-115.8922, -5) -> (-78.8416, -5)
  arc A28 (-78.8416, -5) -> (-5, -78.8416) centre (0, 0) ccw
  line L28 (-5, -78.8416) -> (-5, -115.8922)
  arc A29 (-115.8922, -5) -> (-5, -115.8922) centre (0, 0) ccw
  line L29 (4.7177, -0.8404) -> (3.0867, 3.6655)
  line L30 (3.0867, 3.6655) -> (-1.631, 4.5059)
  line L31 (-1.631, 4.5059) -> (-4.7177, 0.8404)
  line L32 (-4.7177, 0.8404) -> (-3.0867, -3.6655)
  line L33 (-3.0867, -3.6655) -> (1.631, -4.5059)
  line L34 (1.631, -4.5059) -> (4.7177, -0.8404)
  dimension "d94" = 4.15
extrude "Extrude14" cut sketch "Sketch12" against normal blind 4 contours L29 L30 L31 L32 L33 L34 bodies 1
equation "d3 = ( 240 / 2 ) * 1 mm"
equation "d4 = ( 150 / 2 ) * 1 mm"
equation "d9 = d12"
equation "d10 = d9 / 2 + 1.5 mm"
equation "d13 = d12 / 2 + 1.5 mm"
equation "d17 = d16"
equation "d18 = d15"
equation "d22 = -d12 + 2 mm"
equation "d48 = d44"
equation "d49 = d45"
equation "d50 = d46"
equation "d51 = d47"
equation "d73 = d72"
equation "d78 = d79"
equation "d94 = ( 8.3 / 2 ) * 1 mm"
